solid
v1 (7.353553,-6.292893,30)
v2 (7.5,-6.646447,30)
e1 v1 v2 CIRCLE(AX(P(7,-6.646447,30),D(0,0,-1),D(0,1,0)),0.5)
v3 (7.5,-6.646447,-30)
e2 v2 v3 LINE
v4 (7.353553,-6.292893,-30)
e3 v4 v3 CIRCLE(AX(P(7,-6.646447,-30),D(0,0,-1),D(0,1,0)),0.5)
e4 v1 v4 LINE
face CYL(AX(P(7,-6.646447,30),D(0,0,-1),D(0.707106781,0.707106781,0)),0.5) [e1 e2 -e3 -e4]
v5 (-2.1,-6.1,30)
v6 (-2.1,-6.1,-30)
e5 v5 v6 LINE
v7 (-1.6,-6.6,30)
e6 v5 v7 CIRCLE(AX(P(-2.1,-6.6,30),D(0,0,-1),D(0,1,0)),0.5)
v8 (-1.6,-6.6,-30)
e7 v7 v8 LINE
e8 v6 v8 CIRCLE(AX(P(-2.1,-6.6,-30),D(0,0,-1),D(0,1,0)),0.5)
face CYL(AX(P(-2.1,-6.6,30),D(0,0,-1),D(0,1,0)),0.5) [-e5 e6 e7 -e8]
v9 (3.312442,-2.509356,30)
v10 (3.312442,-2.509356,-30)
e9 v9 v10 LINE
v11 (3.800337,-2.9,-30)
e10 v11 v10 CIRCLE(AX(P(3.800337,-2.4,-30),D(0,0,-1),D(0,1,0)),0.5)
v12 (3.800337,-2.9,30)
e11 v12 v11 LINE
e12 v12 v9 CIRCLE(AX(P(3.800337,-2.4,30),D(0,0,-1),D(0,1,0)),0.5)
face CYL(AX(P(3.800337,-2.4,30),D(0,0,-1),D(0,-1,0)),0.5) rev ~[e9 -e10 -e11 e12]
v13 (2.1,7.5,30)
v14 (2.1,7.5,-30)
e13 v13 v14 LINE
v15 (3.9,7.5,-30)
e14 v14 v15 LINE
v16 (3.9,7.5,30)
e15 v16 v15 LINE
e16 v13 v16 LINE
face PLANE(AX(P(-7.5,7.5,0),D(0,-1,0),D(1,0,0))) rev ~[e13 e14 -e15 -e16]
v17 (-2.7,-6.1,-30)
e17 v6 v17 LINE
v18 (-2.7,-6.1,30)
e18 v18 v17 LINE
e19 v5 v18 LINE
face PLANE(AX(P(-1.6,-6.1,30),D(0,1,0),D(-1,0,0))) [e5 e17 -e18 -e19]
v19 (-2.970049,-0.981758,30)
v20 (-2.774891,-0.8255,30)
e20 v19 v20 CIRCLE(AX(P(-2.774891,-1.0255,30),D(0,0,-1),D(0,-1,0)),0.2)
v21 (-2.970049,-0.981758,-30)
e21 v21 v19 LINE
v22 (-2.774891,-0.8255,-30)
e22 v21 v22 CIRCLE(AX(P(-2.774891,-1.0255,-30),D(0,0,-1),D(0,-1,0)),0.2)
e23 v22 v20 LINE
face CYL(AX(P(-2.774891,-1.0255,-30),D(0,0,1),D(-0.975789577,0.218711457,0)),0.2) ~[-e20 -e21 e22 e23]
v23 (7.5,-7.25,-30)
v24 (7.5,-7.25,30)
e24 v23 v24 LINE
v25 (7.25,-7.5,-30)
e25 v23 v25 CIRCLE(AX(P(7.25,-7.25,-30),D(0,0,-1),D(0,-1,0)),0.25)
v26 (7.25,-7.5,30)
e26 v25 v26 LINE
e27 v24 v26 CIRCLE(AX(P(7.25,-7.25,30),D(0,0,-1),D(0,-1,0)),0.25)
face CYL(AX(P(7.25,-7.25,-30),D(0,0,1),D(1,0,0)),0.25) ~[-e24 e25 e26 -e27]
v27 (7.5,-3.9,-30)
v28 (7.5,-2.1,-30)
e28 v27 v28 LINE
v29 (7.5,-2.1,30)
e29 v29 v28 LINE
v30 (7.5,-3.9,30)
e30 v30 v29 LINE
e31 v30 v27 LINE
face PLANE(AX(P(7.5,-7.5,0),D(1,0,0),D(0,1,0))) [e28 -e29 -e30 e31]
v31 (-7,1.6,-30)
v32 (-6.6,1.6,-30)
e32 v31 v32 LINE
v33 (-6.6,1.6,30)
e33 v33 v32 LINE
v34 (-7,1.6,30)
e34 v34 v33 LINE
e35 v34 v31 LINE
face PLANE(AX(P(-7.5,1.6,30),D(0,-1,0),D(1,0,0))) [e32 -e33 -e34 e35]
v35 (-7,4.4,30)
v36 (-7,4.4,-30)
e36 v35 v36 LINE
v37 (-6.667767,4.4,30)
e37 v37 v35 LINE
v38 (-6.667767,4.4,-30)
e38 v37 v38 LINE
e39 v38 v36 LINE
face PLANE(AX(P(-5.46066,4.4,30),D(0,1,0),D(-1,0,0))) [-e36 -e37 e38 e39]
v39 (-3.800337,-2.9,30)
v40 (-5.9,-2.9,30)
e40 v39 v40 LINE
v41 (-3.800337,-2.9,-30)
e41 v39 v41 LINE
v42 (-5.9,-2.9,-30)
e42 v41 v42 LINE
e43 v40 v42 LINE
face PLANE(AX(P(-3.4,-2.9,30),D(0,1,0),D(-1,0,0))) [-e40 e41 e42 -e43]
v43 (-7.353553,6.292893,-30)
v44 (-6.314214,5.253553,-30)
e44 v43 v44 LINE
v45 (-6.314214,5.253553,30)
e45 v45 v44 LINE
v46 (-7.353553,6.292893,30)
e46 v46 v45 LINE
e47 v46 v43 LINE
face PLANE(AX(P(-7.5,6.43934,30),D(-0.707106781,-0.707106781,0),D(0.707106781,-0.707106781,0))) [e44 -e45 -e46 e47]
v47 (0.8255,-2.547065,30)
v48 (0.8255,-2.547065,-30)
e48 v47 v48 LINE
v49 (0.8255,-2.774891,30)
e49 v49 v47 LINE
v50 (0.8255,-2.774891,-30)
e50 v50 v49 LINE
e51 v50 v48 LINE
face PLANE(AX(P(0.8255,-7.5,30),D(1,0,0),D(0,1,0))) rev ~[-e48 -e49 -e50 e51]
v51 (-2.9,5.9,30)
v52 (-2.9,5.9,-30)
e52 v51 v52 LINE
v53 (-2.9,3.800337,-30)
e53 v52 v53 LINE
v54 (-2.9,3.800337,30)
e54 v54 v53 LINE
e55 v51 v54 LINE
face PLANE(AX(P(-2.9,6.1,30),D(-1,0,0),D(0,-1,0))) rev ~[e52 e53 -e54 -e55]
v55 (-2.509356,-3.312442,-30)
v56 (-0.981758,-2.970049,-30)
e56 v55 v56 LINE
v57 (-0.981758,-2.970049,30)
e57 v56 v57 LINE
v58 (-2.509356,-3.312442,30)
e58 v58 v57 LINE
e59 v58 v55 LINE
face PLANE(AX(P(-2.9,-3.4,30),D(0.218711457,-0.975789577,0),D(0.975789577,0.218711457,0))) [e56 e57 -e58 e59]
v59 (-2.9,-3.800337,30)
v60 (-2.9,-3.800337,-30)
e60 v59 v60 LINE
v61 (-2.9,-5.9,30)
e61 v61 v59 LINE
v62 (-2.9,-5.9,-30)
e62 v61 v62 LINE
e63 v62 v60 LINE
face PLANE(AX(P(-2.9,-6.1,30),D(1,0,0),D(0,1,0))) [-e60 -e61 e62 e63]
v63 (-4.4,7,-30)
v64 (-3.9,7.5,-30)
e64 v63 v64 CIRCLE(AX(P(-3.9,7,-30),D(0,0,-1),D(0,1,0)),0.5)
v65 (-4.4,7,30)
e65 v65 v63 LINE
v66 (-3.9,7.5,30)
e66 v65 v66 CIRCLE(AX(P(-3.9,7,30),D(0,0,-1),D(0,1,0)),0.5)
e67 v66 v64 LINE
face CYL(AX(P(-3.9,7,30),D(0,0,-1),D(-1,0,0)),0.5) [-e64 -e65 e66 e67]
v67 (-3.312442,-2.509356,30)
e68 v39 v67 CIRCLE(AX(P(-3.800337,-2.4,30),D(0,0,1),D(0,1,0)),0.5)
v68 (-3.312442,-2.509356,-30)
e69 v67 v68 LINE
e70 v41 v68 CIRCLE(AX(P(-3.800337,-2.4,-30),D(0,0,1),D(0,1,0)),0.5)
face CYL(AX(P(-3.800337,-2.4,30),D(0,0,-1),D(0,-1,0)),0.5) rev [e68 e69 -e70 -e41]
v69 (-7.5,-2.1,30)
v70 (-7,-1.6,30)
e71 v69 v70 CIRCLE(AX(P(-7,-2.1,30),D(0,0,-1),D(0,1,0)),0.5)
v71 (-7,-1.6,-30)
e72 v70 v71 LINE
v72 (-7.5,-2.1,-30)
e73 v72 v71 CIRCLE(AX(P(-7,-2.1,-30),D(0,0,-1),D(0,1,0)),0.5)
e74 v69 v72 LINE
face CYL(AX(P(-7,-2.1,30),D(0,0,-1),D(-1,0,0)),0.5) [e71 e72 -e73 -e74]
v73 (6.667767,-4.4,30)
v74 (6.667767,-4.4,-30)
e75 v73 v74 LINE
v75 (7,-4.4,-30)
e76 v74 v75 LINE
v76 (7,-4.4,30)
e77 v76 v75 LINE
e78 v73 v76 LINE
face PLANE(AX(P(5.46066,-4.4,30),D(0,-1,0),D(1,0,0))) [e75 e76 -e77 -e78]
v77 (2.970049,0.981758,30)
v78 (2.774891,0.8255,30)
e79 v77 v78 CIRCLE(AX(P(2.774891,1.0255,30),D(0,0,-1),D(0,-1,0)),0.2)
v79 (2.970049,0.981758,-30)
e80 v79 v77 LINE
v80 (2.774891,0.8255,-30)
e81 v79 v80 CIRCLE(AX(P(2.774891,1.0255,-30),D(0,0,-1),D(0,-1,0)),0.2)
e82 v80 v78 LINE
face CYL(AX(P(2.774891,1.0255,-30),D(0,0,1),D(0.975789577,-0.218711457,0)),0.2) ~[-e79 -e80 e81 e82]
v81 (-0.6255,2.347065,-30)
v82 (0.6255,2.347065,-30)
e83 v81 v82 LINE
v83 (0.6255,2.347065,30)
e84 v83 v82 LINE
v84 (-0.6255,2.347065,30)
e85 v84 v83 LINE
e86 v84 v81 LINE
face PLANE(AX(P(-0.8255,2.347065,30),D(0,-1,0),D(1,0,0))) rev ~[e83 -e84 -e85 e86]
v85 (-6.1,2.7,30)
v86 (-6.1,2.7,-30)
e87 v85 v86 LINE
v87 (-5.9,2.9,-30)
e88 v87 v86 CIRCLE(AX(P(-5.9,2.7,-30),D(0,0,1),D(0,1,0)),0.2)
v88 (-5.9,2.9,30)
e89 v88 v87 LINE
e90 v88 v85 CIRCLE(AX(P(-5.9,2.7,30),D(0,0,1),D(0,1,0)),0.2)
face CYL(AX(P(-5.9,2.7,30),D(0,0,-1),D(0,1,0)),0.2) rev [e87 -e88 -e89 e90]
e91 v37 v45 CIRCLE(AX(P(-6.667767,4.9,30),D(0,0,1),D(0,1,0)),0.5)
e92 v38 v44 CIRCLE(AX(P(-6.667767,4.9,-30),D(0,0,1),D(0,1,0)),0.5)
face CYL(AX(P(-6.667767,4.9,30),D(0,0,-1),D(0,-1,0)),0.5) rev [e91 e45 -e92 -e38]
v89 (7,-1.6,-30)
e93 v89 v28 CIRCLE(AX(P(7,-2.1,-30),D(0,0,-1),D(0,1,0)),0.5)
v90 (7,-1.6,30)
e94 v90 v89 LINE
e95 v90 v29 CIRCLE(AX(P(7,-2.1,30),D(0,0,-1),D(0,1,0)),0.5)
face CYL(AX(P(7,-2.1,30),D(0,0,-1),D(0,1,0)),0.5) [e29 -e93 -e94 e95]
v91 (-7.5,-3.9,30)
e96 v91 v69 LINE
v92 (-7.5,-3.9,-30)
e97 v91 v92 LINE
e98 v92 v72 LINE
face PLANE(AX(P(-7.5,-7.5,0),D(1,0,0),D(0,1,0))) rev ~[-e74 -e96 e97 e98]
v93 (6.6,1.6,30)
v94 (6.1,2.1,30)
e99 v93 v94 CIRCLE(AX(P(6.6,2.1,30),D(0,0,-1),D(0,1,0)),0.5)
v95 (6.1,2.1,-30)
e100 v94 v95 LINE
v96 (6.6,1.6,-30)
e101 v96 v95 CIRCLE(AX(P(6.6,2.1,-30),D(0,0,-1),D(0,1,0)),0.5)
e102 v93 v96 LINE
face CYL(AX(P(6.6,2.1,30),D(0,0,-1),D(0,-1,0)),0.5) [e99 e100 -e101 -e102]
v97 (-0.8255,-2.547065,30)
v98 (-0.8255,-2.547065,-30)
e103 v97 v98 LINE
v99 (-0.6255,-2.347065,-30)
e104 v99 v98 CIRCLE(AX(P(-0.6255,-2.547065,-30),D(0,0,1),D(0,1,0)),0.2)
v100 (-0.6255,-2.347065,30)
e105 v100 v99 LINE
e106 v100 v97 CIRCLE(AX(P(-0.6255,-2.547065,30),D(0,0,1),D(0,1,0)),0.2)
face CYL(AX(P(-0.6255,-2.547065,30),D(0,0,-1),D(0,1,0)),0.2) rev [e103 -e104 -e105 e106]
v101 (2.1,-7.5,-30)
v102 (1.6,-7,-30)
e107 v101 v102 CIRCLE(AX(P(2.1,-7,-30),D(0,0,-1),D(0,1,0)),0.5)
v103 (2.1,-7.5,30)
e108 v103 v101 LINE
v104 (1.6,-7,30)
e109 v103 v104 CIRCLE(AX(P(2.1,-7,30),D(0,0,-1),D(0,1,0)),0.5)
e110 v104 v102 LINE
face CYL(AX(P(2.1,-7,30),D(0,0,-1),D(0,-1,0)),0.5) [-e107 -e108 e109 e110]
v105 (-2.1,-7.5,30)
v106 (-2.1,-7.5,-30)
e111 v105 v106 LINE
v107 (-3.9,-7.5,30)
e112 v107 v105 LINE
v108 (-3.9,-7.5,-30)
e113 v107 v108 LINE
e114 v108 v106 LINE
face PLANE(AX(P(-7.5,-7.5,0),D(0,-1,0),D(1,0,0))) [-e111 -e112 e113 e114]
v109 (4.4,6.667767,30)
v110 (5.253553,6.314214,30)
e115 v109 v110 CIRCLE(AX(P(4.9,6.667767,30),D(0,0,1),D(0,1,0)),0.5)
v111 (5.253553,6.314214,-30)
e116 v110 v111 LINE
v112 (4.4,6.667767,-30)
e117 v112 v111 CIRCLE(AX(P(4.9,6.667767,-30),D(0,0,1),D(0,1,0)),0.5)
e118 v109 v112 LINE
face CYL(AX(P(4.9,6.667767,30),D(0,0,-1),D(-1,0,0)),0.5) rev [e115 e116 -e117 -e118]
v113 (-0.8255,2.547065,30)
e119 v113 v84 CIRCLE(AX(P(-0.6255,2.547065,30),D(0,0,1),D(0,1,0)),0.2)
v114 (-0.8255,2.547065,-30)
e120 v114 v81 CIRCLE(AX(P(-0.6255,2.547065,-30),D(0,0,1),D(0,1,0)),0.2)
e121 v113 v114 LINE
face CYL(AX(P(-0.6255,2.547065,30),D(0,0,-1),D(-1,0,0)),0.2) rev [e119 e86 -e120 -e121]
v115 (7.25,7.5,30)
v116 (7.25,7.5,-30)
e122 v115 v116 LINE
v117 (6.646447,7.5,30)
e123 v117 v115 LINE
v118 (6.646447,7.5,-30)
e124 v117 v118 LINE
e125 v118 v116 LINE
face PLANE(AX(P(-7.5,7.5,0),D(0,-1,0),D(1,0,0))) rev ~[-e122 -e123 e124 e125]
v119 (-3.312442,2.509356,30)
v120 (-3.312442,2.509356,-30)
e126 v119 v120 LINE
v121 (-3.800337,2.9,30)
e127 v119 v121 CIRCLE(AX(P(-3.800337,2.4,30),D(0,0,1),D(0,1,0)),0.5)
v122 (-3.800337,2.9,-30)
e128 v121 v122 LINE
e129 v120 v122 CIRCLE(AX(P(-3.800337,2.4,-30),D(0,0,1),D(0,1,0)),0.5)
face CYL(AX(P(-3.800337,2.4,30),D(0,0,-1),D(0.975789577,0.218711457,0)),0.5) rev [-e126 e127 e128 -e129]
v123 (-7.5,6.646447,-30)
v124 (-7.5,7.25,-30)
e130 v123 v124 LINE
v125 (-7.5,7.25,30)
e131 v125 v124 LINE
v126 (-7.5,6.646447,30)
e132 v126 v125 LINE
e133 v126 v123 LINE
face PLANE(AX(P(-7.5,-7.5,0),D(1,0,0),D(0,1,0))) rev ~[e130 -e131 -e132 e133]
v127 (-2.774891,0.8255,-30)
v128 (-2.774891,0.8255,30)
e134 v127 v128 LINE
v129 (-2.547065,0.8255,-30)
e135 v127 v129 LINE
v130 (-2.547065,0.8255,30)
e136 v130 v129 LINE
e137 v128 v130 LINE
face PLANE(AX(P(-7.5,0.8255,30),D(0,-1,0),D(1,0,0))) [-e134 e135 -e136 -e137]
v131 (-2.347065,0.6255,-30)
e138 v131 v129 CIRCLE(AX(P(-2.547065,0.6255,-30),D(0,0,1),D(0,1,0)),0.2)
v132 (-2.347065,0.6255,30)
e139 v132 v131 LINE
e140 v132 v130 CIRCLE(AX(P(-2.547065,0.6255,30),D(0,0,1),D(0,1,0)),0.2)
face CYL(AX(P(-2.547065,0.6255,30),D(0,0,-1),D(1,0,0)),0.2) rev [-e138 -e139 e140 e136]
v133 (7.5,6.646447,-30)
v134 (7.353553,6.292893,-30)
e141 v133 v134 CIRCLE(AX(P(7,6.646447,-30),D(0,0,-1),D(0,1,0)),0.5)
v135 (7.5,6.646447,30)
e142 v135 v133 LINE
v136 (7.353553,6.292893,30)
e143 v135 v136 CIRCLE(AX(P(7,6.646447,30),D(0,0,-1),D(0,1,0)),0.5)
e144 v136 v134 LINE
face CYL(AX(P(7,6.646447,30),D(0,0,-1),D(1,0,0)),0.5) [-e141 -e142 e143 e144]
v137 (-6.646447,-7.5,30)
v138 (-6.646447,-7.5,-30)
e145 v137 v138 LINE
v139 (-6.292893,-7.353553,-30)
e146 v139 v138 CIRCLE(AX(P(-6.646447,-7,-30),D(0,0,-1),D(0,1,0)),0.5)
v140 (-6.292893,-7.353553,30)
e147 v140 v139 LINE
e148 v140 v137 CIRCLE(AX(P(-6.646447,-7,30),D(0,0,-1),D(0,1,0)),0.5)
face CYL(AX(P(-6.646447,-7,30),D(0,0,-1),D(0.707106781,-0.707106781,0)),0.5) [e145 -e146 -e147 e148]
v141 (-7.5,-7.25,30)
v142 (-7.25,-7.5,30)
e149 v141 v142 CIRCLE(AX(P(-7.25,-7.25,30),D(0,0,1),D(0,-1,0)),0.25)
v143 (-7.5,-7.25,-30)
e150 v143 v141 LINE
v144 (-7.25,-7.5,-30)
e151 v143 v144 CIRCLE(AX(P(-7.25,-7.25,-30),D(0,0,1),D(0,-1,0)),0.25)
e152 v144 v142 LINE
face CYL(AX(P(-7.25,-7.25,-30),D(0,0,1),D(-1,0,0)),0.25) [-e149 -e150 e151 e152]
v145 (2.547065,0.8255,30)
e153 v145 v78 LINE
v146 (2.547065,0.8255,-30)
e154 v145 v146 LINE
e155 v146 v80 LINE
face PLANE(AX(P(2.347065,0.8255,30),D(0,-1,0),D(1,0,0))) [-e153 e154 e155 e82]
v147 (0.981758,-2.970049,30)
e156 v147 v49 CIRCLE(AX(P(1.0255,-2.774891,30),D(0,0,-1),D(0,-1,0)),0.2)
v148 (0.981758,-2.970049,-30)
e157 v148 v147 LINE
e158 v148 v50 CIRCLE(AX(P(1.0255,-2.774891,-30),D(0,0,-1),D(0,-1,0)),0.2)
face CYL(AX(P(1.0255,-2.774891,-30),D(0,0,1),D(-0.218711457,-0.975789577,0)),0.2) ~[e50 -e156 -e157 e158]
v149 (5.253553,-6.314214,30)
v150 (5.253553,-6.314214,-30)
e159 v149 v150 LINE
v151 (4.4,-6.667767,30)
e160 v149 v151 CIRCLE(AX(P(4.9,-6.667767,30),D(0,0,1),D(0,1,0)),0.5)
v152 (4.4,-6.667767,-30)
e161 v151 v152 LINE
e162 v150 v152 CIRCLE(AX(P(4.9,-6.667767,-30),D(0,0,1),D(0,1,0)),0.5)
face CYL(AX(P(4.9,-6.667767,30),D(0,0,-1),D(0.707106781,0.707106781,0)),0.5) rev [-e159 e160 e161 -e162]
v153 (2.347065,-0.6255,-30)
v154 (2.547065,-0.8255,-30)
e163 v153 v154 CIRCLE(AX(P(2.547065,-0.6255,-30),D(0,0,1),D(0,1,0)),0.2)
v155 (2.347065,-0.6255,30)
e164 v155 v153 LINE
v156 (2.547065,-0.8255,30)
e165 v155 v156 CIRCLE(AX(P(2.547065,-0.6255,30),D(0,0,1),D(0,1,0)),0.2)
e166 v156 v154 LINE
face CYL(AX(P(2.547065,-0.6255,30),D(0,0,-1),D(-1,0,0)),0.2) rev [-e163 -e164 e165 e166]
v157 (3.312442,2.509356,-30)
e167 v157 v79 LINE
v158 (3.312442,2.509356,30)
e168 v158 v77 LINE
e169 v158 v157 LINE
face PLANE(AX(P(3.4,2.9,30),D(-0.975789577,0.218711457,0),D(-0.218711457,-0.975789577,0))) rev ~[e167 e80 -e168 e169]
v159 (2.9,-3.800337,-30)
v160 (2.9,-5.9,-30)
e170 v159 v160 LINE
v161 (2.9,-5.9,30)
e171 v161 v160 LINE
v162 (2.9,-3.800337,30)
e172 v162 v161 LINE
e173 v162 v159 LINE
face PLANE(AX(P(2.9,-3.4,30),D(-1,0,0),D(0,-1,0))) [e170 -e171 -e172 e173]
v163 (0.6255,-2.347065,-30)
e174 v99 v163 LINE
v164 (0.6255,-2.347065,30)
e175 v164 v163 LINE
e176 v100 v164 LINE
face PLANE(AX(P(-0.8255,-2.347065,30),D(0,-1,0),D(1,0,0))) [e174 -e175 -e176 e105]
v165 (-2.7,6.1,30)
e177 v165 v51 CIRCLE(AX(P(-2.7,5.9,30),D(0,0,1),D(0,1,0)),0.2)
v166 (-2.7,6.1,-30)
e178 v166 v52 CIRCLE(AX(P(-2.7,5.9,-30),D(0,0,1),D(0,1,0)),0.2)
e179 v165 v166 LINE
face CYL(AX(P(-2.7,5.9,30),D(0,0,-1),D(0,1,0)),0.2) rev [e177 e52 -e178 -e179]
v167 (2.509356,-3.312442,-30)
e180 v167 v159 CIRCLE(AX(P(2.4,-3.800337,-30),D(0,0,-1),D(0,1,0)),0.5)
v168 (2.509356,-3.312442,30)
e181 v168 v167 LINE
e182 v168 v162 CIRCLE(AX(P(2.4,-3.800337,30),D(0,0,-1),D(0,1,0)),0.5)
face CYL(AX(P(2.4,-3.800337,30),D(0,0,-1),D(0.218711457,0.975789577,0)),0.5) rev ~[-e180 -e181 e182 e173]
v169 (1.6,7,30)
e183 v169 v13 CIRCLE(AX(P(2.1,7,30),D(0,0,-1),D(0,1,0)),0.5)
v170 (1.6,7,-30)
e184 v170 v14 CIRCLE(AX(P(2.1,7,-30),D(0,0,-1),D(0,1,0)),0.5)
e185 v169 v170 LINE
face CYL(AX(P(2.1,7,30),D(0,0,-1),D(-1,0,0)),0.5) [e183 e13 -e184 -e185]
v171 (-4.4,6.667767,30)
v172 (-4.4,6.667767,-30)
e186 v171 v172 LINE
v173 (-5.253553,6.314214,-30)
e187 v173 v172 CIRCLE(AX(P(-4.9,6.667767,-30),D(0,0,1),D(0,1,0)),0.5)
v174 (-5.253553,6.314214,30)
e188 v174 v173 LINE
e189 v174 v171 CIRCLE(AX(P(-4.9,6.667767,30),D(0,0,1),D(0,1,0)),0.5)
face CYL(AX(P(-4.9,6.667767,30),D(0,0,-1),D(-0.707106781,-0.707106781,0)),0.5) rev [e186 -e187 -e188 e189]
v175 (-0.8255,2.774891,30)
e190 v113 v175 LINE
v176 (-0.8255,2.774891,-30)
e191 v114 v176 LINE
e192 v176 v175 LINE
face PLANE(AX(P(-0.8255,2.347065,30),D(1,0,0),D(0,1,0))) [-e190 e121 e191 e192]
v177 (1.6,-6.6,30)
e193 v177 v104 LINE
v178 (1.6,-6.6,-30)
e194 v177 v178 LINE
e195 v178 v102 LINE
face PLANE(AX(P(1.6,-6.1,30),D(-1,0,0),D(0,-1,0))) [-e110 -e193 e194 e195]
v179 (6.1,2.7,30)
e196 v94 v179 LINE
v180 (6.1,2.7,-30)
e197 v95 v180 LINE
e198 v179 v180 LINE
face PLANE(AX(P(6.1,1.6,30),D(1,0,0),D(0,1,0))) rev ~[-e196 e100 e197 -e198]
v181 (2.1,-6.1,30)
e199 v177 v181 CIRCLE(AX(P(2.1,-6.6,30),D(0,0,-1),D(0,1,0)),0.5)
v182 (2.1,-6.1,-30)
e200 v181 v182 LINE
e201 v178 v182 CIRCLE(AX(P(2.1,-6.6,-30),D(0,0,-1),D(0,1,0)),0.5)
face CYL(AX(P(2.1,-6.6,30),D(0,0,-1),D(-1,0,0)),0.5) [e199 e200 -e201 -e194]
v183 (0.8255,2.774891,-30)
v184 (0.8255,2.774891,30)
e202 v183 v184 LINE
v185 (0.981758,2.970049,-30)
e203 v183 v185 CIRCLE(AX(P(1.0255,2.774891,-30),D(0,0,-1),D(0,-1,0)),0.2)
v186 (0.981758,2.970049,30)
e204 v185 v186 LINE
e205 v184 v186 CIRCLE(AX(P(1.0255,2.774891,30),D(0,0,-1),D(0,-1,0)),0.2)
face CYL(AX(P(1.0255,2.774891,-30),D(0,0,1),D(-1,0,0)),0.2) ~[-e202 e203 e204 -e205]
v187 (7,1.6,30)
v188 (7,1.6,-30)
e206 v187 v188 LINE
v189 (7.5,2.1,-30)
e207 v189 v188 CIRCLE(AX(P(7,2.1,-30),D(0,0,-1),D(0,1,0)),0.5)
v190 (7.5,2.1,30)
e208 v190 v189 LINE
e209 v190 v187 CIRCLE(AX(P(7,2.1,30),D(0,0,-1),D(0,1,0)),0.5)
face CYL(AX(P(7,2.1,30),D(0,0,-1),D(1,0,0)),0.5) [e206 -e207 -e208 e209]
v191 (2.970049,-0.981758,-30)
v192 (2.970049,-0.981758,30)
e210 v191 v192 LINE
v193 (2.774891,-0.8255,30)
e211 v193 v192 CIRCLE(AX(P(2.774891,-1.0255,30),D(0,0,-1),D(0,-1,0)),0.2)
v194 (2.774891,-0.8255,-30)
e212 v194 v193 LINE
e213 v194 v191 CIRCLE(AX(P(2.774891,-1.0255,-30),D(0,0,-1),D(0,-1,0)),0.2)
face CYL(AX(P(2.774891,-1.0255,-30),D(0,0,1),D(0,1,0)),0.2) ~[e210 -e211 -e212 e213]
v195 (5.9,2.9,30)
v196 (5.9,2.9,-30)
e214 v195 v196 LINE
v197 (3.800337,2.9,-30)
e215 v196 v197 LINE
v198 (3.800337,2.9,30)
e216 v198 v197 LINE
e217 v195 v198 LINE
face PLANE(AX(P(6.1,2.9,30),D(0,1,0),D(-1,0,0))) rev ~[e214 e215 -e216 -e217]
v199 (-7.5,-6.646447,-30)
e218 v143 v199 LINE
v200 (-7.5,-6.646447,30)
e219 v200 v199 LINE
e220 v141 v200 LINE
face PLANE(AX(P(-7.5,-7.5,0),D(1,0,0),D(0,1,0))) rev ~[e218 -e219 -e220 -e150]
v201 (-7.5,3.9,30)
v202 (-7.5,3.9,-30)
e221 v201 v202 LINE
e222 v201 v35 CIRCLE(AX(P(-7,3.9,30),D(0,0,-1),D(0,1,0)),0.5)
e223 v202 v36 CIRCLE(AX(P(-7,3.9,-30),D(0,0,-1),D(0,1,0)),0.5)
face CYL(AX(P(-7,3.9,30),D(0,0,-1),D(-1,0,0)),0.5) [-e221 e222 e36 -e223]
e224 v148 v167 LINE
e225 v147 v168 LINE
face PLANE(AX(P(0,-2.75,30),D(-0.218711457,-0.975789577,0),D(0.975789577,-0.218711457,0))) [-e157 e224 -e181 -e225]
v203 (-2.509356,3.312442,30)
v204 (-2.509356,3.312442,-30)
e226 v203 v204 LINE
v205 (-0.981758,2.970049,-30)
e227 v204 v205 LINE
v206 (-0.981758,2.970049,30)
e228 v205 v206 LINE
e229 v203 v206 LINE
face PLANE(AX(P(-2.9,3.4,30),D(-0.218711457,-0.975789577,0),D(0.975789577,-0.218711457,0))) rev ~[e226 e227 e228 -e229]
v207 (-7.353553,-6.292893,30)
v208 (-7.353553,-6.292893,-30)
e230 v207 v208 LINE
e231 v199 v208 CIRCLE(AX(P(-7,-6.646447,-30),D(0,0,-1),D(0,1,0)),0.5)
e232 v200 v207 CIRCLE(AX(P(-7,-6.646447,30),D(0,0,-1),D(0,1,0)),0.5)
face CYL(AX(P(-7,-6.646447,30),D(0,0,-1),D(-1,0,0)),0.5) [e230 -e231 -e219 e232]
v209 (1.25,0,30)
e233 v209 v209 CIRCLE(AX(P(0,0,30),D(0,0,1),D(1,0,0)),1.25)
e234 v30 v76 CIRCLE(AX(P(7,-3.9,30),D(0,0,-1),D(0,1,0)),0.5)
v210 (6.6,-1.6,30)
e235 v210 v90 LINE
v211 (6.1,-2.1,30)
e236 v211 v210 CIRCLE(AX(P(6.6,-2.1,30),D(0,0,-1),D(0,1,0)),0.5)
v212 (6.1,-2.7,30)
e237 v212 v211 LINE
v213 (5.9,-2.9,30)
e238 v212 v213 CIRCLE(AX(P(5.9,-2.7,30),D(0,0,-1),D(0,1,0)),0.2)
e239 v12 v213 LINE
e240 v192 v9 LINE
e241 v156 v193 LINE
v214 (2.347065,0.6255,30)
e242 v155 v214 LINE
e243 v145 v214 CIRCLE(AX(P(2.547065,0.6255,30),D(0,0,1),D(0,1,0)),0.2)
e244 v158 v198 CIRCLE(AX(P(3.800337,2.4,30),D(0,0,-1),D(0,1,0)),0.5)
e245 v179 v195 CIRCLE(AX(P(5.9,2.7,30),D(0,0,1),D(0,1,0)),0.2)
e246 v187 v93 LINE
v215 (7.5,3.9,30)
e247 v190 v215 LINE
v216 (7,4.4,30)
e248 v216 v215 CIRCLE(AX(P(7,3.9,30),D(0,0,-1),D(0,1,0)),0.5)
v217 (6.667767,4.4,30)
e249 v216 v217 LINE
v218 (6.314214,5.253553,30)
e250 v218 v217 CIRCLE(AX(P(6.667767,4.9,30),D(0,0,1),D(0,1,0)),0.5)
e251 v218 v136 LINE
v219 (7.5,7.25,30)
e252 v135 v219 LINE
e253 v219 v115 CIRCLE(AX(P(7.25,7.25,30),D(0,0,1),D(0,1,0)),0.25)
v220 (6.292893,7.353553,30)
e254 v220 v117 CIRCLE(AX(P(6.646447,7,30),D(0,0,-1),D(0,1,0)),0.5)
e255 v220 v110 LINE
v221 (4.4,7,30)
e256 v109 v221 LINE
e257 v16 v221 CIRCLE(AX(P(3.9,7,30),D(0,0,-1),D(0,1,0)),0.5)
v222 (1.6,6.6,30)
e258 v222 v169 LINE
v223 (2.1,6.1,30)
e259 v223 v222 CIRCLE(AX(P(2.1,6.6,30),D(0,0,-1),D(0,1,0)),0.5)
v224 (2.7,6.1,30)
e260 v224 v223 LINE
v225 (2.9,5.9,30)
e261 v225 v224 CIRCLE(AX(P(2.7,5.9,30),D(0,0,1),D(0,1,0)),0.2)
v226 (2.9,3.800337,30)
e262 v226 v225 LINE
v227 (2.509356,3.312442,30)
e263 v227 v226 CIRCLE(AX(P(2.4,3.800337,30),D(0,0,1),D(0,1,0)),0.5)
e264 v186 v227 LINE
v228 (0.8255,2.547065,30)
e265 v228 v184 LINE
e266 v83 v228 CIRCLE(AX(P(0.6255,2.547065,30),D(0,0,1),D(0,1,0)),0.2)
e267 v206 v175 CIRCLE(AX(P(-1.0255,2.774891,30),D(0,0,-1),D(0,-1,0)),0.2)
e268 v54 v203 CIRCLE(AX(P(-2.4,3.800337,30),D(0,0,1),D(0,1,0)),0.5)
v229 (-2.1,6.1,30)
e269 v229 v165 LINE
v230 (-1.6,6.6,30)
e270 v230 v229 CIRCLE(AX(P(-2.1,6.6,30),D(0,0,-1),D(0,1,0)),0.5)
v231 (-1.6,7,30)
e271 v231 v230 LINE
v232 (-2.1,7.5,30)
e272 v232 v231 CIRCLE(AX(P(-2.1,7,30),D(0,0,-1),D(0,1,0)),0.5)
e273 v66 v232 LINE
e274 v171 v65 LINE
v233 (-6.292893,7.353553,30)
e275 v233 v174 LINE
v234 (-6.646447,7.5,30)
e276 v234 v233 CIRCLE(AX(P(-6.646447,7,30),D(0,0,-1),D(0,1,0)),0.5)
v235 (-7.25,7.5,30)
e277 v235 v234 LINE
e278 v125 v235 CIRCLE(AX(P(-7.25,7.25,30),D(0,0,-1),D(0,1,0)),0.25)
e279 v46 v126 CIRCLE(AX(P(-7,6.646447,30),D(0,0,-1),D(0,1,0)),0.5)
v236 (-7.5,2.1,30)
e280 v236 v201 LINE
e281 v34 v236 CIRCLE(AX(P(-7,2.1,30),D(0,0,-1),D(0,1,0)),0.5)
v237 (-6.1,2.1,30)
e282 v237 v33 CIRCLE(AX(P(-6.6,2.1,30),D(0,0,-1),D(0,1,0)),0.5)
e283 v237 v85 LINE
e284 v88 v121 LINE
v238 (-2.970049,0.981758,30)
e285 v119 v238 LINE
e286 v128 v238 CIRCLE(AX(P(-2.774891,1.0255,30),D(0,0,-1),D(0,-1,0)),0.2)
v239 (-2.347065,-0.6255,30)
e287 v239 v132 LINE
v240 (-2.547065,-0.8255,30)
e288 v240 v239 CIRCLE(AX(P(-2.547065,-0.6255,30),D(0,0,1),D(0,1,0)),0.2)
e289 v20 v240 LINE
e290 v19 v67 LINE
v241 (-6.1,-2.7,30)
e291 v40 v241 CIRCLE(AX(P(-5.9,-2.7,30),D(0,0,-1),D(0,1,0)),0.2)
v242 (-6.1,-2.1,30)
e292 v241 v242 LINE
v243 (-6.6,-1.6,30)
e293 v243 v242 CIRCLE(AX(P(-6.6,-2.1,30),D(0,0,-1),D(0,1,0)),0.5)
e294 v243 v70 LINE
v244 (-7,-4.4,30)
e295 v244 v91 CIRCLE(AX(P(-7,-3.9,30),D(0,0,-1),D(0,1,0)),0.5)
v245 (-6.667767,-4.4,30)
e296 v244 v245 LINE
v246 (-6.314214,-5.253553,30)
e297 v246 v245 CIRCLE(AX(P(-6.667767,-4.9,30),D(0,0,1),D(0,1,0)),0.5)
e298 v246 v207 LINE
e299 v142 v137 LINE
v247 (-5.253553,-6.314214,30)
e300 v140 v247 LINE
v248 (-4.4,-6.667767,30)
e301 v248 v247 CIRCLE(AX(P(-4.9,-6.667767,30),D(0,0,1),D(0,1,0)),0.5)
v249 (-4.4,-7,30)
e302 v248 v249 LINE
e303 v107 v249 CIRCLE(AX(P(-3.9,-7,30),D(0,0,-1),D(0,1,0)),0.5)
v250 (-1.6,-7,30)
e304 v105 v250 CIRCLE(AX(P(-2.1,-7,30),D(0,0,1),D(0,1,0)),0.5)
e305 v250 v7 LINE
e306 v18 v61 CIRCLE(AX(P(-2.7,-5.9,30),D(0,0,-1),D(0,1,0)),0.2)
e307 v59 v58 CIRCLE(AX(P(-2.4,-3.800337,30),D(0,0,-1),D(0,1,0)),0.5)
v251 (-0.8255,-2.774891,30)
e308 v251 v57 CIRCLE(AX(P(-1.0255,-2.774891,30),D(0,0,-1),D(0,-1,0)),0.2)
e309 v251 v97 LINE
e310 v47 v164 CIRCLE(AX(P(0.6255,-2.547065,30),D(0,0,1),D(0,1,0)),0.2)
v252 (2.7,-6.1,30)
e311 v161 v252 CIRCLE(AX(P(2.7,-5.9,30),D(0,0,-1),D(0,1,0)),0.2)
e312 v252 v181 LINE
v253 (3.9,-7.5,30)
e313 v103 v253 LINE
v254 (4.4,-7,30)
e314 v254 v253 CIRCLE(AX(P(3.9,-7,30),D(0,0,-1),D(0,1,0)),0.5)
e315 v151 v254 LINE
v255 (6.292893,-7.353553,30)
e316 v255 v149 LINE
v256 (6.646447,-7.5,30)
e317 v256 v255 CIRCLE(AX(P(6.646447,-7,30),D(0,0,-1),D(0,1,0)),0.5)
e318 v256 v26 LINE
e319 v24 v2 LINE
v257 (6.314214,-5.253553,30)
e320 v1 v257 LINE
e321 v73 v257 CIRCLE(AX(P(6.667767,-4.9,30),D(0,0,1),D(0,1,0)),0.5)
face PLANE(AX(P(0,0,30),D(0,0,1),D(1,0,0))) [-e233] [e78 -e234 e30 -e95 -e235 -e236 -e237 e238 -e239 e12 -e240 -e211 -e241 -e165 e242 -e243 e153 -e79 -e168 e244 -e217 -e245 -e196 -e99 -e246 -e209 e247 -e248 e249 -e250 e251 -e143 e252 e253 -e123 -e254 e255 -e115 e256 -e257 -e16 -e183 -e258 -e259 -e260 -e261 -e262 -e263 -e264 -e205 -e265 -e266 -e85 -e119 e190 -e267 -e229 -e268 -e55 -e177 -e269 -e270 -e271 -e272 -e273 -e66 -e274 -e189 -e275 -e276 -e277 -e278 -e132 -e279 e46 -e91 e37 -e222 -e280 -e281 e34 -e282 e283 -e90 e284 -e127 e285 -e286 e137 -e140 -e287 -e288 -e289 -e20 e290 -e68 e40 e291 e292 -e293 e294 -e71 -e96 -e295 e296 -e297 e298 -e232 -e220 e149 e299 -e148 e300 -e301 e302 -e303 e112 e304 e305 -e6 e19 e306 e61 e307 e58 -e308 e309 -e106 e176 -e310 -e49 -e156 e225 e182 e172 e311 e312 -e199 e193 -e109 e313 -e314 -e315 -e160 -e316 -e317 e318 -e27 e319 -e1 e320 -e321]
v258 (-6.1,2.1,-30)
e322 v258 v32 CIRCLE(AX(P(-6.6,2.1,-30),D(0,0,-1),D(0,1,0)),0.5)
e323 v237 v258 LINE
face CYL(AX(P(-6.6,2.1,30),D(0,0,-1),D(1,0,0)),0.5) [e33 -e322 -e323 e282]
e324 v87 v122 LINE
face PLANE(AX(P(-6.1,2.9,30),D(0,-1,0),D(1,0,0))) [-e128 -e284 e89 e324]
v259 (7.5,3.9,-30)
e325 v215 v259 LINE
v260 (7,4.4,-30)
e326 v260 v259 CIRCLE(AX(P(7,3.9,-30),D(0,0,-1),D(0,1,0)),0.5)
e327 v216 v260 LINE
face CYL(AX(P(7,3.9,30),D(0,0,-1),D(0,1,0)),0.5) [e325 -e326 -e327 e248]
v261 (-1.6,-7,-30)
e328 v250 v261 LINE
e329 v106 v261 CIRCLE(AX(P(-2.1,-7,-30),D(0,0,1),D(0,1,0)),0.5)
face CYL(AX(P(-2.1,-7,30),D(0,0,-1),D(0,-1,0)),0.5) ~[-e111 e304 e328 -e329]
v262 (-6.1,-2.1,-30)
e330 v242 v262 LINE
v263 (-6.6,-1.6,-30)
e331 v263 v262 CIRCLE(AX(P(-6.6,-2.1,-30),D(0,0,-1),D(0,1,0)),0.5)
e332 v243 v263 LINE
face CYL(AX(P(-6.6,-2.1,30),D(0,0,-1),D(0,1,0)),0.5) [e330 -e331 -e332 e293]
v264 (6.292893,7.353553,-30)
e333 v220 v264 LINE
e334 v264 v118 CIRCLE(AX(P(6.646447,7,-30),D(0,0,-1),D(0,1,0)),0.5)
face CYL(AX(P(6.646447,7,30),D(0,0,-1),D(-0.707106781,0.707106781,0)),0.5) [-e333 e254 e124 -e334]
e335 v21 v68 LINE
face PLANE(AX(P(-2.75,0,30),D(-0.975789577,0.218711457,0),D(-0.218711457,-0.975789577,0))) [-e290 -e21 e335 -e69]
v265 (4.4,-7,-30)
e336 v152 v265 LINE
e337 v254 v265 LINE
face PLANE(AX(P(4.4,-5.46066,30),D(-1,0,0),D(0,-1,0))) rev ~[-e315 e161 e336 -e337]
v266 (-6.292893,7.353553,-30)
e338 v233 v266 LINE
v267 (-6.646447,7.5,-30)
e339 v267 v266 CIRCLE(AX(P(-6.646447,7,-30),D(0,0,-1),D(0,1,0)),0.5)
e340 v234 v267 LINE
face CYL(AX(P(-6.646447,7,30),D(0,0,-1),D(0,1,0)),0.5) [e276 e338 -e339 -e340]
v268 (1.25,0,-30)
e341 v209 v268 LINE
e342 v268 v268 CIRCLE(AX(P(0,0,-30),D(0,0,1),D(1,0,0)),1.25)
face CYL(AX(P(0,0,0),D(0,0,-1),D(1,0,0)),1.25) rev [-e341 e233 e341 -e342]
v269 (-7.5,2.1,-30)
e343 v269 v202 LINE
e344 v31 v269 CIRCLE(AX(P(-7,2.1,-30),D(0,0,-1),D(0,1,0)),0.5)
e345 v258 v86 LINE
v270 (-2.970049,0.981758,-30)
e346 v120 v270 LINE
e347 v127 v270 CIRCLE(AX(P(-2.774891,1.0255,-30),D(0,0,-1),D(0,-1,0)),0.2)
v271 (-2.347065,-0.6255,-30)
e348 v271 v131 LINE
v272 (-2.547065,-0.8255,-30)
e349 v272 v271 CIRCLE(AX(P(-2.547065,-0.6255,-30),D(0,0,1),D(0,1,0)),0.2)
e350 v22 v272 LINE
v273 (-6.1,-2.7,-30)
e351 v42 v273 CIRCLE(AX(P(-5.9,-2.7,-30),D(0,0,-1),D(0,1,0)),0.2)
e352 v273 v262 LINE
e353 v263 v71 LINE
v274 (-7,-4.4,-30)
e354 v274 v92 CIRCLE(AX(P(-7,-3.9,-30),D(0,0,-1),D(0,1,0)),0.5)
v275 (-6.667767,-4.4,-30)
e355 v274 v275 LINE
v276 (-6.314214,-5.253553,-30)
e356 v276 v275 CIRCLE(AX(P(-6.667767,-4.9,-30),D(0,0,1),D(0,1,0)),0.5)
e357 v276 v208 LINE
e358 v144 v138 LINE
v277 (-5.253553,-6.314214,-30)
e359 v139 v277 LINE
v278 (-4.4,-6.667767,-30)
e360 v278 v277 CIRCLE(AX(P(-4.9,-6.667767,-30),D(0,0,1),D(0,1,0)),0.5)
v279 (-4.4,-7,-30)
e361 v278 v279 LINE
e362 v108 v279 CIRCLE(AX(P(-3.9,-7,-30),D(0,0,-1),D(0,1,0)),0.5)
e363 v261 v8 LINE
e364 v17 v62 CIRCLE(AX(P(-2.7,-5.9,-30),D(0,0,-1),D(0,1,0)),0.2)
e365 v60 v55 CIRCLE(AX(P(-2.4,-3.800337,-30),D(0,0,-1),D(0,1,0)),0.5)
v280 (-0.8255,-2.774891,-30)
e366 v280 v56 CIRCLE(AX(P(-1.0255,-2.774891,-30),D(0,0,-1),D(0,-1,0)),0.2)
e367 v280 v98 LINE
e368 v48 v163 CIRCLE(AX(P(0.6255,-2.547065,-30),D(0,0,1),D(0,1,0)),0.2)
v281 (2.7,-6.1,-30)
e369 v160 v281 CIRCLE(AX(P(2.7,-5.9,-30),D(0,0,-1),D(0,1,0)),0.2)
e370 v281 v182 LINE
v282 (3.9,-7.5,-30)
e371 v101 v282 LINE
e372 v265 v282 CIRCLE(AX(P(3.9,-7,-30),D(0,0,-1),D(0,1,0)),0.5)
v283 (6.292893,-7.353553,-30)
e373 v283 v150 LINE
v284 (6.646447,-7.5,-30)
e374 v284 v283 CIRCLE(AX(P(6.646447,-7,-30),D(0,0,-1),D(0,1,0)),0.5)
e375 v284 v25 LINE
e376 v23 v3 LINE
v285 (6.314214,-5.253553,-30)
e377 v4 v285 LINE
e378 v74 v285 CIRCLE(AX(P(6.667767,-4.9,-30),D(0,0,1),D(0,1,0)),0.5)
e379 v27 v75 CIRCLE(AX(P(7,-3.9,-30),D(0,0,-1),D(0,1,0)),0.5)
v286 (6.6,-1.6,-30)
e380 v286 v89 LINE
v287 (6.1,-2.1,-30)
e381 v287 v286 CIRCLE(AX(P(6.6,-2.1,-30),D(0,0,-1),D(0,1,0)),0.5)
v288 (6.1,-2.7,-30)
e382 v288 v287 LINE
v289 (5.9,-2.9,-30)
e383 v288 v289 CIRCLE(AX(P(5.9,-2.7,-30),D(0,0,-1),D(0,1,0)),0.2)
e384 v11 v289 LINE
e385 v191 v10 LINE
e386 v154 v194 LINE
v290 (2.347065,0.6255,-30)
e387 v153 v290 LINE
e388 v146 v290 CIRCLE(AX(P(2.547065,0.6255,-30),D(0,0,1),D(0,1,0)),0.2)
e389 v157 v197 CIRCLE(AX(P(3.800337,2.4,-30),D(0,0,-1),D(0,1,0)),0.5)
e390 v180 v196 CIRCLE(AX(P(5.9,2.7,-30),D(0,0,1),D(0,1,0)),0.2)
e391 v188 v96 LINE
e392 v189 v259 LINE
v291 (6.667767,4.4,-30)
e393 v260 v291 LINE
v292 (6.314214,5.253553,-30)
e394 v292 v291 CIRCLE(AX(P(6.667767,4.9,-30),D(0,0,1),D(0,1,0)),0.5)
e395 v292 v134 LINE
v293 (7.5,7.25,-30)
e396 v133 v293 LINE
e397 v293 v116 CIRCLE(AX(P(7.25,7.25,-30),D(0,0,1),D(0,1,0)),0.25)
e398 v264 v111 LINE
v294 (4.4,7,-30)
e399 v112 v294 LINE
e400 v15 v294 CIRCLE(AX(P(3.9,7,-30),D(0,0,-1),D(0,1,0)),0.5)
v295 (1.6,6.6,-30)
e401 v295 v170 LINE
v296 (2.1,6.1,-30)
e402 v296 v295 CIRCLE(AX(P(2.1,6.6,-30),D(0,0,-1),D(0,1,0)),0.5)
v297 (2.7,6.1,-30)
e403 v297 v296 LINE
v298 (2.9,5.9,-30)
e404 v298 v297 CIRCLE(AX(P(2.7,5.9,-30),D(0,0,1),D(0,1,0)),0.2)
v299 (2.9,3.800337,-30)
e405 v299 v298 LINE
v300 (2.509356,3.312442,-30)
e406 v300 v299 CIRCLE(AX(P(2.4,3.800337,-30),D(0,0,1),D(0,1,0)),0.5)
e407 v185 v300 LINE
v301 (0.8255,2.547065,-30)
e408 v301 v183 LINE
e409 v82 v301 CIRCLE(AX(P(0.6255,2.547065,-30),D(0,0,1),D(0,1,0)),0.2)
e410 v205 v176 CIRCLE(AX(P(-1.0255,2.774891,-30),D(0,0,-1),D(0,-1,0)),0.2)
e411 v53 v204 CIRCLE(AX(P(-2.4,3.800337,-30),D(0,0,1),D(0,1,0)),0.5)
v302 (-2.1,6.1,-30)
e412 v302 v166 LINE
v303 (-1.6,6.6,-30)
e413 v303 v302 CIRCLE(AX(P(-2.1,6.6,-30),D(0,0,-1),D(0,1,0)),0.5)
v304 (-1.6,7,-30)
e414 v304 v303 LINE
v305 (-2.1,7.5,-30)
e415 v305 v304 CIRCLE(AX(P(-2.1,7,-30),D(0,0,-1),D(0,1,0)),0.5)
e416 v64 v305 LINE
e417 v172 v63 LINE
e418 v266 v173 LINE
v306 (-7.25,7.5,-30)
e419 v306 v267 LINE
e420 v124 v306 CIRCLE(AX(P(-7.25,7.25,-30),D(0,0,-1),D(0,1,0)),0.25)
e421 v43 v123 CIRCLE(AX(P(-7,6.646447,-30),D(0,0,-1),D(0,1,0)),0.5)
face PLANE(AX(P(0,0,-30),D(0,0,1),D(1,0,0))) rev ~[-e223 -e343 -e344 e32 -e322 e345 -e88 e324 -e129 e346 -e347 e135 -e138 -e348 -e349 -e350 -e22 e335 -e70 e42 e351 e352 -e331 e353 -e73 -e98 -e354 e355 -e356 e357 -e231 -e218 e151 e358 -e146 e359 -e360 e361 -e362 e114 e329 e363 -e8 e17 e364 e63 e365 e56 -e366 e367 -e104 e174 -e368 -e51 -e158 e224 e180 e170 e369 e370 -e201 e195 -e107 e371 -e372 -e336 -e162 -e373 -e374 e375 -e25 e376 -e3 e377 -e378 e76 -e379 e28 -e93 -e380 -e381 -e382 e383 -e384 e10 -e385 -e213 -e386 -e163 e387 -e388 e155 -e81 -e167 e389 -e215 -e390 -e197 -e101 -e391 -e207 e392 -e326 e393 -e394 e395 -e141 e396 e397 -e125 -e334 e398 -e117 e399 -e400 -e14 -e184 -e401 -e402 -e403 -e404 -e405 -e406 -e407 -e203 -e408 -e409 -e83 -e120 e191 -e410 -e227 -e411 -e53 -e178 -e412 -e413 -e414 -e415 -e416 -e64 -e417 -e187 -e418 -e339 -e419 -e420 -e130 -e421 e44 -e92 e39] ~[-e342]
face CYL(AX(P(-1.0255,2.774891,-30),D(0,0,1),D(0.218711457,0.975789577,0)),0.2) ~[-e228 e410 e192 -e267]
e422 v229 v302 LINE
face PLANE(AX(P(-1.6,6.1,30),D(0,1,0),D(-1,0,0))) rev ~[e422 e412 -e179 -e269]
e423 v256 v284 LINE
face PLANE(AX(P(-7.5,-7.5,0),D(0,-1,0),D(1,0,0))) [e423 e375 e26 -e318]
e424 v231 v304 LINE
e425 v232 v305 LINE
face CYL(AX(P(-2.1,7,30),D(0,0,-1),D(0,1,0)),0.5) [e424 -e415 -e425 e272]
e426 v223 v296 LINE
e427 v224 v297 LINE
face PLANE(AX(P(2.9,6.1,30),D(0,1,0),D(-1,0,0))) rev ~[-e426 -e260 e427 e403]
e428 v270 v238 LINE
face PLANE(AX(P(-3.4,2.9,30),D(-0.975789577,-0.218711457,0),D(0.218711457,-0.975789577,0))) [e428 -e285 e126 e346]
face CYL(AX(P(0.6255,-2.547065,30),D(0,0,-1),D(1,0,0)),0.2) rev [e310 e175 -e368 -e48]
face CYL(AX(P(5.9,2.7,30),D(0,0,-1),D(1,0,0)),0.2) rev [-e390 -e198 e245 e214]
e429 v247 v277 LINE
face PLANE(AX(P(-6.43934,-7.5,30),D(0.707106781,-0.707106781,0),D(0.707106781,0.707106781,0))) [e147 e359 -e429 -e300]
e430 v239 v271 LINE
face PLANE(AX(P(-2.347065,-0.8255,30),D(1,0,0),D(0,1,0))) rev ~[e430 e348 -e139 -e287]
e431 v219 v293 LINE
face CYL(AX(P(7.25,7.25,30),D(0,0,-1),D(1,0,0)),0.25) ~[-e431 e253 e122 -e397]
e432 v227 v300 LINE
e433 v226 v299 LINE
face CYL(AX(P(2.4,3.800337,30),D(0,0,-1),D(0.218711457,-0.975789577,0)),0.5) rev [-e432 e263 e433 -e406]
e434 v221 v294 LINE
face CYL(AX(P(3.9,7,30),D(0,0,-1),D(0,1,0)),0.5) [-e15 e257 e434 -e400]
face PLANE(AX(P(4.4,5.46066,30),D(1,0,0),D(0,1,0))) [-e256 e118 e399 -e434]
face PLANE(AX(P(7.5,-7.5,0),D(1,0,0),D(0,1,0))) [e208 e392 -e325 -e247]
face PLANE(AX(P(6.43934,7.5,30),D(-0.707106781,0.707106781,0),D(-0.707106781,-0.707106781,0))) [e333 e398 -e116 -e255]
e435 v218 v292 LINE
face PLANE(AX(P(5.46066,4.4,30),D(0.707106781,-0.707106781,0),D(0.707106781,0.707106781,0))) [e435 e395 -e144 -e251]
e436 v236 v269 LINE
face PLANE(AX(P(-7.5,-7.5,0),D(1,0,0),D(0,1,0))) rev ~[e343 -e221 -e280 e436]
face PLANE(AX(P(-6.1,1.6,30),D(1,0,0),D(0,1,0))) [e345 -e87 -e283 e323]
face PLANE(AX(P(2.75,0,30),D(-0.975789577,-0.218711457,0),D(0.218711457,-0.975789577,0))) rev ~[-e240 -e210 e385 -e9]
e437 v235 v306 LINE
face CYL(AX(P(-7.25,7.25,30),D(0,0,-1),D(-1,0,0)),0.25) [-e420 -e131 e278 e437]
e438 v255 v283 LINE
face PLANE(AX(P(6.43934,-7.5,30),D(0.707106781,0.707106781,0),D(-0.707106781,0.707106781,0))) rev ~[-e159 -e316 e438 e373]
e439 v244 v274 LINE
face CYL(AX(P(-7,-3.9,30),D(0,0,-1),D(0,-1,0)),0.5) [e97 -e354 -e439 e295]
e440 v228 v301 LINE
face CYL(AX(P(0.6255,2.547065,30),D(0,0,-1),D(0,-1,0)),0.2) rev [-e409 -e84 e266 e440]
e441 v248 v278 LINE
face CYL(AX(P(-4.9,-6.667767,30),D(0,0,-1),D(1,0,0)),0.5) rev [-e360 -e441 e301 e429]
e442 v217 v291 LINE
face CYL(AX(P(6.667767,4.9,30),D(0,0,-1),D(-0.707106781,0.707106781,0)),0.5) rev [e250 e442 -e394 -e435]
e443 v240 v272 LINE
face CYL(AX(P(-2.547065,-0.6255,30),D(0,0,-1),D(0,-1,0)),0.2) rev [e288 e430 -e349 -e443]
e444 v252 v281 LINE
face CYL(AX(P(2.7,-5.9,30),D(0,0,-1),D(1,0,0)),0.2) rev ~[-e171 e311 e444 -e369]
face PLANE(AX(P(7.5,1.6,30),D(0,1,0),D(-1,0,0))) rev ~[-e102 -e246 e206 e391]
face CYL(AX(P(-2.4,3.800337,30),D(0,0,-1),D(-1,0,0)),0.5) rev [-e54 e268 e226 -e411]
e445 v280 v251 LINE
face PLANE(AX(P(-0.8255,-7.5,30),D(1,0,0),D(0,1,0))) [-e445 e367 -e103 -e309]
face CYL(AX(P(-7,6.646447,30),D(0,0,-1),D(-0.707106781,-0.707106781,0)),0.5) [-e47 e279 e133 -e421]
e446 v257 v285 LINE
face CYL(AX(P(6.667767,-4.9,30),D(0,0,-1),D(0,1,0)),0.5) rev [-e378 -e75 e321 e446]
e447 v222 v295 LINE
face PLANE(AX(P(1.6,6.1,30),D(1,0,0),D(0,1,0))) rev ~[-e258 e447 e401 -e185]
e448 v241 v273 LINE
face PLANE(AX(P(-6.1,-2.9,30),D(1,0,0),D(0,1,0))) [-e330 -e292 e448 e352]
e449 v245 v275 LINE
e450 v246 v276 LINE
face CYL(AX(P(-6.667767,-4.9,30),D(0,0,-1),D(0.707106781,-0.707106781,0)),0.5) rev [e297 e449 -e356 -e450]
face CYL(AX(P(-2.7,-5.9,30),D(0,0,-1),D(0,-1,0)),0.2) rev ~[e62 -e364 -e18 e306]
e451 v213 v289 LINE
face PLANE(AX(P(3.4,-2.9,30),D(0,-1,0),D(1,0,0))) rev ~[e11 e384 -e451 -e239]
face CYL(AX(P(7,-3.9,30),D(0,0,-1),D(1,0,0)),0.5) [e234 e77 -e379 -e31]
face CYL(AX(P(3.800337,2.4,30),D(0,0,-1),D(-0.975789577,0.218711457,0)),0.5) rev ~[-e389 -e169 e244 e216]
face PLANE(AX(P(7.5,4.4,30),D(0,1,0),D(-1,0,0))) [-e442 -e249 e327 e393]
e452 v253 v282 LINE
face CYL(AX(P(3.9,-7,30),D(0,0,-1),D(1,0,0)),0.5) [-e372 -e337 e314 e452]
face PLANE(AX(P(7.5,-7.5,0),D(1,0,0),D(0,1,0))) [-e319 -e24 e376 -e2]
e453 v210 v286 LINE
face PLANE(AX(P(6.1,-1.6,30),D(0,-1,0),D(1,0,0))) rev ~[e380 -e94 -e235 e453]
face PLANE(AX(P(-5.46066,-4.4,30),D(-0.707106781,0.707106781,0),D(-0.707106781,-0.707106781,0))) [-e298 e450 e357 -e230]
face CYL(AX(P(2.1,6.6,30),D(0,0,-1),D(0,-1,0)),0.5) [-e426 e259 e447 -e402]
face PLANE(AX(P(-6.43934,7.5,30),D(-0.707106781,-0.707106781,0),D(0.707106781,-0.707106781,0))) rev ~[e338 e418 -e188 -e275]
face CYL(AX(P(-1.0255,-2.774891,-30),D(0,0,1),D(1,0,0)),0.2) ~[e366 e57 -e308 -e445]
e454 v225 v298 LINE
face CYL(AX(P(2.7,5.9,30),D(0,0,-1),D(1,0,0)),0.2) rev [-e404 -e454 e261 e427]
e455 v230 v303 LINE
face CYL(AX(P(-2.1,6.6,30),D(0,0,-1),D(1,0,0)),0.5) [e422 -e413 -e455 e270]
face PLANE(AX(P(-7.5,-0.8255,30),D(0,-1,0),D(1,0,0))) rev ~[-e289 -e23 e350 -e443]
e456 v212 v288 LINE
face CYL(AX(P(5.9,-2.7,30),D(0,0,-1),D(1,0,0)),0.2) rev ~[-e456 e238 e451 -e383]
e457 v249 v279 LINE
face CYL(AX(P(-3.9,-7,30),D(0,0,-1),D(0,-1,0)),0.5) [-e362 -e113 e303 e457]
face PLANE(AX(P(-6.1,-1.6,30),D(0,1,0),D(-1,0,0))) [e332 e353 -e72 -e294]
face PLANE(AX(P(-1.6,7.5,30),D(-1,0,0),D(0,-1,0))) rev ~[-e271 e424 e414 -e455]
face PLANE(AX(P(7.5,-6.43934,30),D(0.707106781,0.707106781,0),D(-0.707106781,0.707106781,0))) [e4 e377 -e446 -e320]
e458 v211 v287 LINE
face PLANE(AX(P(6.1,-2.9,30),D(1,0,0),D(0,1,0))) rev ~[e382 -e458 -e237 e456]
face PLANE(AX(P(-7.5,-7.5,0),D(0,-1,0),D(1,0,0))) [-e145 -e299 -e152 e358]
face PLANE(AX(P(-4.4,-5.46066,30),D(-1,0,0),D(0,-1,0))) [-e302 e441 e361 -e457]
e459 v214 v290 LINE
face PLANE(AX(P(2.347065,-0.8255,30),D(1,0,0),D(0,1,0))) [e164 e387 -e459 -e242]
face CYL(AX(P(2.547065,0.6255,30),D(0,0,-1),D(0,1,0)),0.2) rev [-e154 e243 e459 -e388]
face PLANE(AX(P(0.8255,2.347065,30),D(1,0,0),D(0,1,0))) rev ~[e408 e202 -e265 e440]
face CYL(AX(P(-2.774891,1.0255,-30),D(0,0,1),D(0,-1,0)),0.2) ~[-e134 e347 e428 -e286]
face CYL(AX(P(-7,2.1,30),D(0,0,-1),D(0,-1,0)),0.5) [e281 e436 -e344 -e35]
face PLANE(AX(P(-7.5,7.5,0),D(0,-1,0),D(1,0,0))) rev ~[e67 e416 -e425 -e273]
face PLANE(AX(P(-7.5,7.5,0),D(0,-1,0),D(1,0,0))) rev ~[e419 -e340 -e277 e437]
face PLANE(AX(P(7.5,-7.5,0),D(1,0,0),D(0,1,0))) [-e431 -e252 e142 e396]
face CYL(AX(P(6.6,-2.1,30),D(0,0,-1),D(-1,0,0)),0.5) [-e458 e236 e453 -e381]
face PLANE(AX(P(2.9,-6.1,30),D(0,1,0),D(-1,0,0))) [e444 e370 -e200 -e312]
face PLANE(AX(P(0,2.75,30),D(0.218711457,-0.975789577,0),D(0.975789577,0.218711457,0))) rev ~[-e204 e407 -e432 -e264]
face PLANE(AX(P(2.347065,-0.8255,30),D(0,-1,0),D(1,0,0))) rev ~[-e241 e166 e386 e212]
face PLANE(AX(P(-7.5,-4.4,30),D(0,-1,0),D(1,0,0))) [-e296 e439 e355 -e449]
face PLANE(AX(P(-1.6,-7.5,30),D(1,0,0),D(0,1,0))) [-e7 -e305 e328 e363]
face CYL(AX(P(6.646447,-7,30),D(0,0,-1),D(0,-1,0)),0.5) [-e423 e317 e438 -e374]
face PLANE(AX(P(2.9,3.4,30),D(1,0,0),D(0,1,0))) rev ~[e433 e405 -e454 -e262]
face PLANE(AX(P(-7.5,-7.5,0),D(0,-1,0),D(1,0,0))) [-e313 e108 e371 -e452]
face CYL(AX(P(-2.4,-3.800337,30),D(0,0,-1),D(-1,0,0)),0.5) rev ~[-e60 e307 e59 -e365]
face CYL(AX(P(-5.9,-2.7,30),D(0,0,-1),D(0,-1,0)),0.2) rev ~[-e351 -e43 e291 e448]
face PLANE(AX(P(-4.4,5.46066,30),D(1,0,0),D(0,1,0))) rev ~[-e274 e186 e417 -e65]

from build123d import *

# Parameters (mm, degrees)
SKETCH1_W           = 15
SKETCH1_H           = 15
SKETCH1_R           = 1.25
BOSS_EXTRUDE1_DEPTH = 30
FILLET1_R           = 0.25
CUT_EXTRUDE1_DEPTH  = 61
CUT_EXTRUDE3_DEPTH  = 61
FILLET3_R           = 0.5
FILLET4_R           = 0.5
FILLET5_R           = 3
FILLET6_R           = 0.2
CUT_EXTRUDE4_DEPTH  = 61
FILLET8_R           = 0.5
SKETCH6_W           = 5.1529354
SKETCH6_H           = 1.651
SKETCH6_W_2         = 1.651
SKETCH6_H_2         = 5.1529354
CUT_EXTRUDE5_DEPTH  = 61
FILLET10_R          = 0.2


with BuildPart() as part:
    # Sketch1 → Boss-Extrude1 (new body, symmetric)
    with BuildSketch(Plane.XY):
        Rectangle(SKETCH1_W, SKETCH1_H)
        Circle(SKETCH1_R, mode=Mode.SUBTRACT)
    extrude(amount=BOSS_EXTRUDE1_DEPTH, both=True)

    # Fillet1
    fillet1_edges = [part.edges().sort_by_distance(p)[0] for p in [
        (7.5, -7.5, 0),
        (-7.5, -7.5, 0),
        (-7.5, 7.5, 0),
        (7.5, 7.5, 0),
    ]]
    fillet(fillet1_edges, radius=FILLET1_R)

    # Sketch2 → Cut-Extrude1 (cut, through all)
    with BuildSketch(Plane.XY.offset(30)):
        Polygon((-7.5, 1.6), (-6.1, 1.6), (-6.1, 2.9), (-3.4, 2.9), (-3.4, -2.9), (-6.1, -2.9), (-6.1, -1.6), (-7.5, -1.6), align=None)
        Polygon((2.9, 6.1), (1.6, 6.1), (1.6, 7.5), (-1.6, 7.5), (-1.6, 6.1), (-2.9, 6.1), (-2.9, 3.4), (2.9, 3.4), align=None)
        Polygon((-1.6, -7.5), (-1.6, -6.1), (-2.9, -6.1), (-2.9, -3.4), (2.9, -3.4), (2.9, -6.1), (1.6, -6.1), (1.6, -7.5), align=None)
        Polygon((6.1, -2.9), (6.1, -1.6), (7.5, -1.6), (7.5, 1.6), (6.1, 1.6), (6.1, 2.9), (3.4, 2.9), (3.4, -2.9), align=None)
    extrude(amount=-CUT_EXTRUDE1_DEPTH, mode=Mode.SUBTRACT)

    # Sketch4 → Cut-Extrude3 (cut, through all)
    with BuildSketch(Plane.XY.offset(30)):
        Polygon((-3.4, 2.9), (-2.75, 0), (-3.4, -2.9), align=None)
        Polygon((-2.9, 3.4), (0, 2.75), (2.9, 3.4), align=None)
        Polygon((3.4, 2.9), (2.75, 0), (3.4, -2.9), align=None)
        Polygon((-2.9, -3.4), (0, -2.75), (2.9, -3.4), align=None)
    extrude(amount=-CUT_EXTRUDE3_DEPTH, mode=Mode.SUBTRACT)

    # Fillet3
    fillet3_edges = [part.edges().sort_by_distance(p)[0] for p in [
        (1.6, -7.5, 0),
        (-1.6, -7.5, 0),
        (-1.6, -6.1, 0),
        (1.6, -6.1, 0),
        (6.1, 1.6, 0),
        (7.5, 1.6, 0),
        (7.5, -1.6, 0),
        (6.1, -1.6, 0),
        (-7.5, -1.6, 0),
        (-7.5, 1.6, 0),
        (-6.1, 1.6, 0),
        (-6.1, -1.6, 0),
        (-1.6, 6.1, 0),
        (-1.6, 7.5, 0),
        (1.6, 7.5, 0),
        (1.6, 6.1, 0),
    ]]
    fillet(fillet3_edges, radius=FILLET3_R)

    # Fillet4
    fillet4_edges = [part.edges().sort_by_distance(p)[0] for p in [
        (-2.9, -3.4, 0),
        (2.9, -3.4, 0),
        (3.4, -2.9, 0),
        (3.4, 2.9, 0),
        (-3.4, 2.9, 0),
        (-3.4, -2.9, 0),
        (2.9, 3.4, 0),
        (-2.9, 3.4, 0),
    ]]
    fillet(fillet4_edges, radius=FILLET4_R)

    # Fillet5
    fillet5_edges = [part.edges().sort_by_distance(p)[0] for p in [
        (-2.75, 0, 0),
        (0, 2.75, 0),
        (2.75, 0, 0),
        (0, -2.75, 0),
    ]]
    fillet(fillet5_edges, radius=FILLET5_R)

    # Fillet6
    fillet6_edges = [part.edges().sort_by_distance(p)[0] for p in [
        (-2.9, -6.1, 0),
        (2.9, -6.1, 0),
        (6.1, -2.9, 0),
        (6.1, 2.9, 0),
        (-6.1, 2.9, 0),
        (-6.1, -2.9, 0),
        (2.9, 6.1, 0),
        (-2.9, 6.1, 0),
    ]]
    fillet(fillet6_edges, radius=FILLET6_R)

    # Sketch5 → Cut-Extrude4 (cut, through all)
    with BuildSketch(Plane.XY.offset(30)):
        Polygon((-7.5, 6.439339828), (-5.460660172, 4.4), (-7.5, 4.4), align=None)
        Polygon((-6.439339828, 7.5), (-4.4, 5.460660172), (-4.4, 7.5), align=None)
        Polygon((4.4, 7.5), (6.439339828, 7.5), (4.4, 5.460660172), align=None)
        Polygon((7.5, 6.439339828), (7.5, 4.4), (5.460660172, 4.4), align=None)
        Polygon((7.5, -6.439339828), (5.460660172, -4.4), (7.5, -4.4), align=None)
        Polygon((6.439339828, -7.5), (4.4, -5.460660172), (4.4, -7.5), align=None)
        Polygon((-4.4, -7.5), (-6.439339828, -7.5), (-4.4, -5.460660172), align=None)
        Polygon((-7.5, -6.439339828), (-7.5, -4.4), (-5.460660172, -4.4), align=None)
    extrude(amount=-CUT_EXTRUDE4_DEPTH, mode=Mode.SUBTRACT)

    # Fillet8
    fillet8_edges = [part.edges().sort_by_distance(p)[0] for p in [
        (-7.5, 4.4, 0),
        (-7.5, 6.439339828, 0),
        (-5.460660172, 4.4, 0),
        (7.5, -4.4, 0),
        (7.5, -6.439339828, 0),
        (5.460660172, -4.4, 0),
        (5.460660172, 4.4, 0),
        (7.5, 6.439339828, 0),
        (7.5, 4.4, 0),
        (-4.4, 7.5, 0),
        (-4.4, 5.460660172, 0),
        (-6.439339828, 7.5, 0),
        (-5.460660172, -4.4, 0),
        (-7.5, -6.439339828, 0),
        (-7.5, -4.4, 0),
        (4.4, 5.460660172, 0),
        (4.4, 7.5, 0),
        (6.439339828, 7.5, 0),
        (6.439339828, -7.5, 0),
        (4.4, -7.5, 0),
        (4.4, -5.460660172, 0),
        (-6.439339828, -7.5, 0),
        (-4.4, -5.460660172, 0),
        (-4.4, -7.5, 0),
    ]]
    fillet(fillet8_edges, radius=FILLET8_R)

    # Sketch6 → Cut-Extrude5 (cut, through all)
    with BuildSketch(Plane.XY.offset(30)):
        with Locations((4.9235323, 0)):
            Rectangle(SKETCH6_W, SKETCH6_H)
        with Locations((0, -4.9235323)):
            Rectangle(SKETCH6_W_2, SKETCH6_H_2)
        with Locations((-4.9235323, 0)):
            Rectangle(SKETCH6_W, SKETCH6_H)
        with Locations((0, 4.9235323)):
            Rectangle(SKETCH6_W_2, SKETCH6_H_2)
    extrude(amount=-CUT_EXTRUDE5_DEPTH, mode=Mode.SUBTRACT)

    # Fillet10
    fillet10_edges = [part.edges().sort_by_distance(p)[0] for p in [
        (0.8255, -2.935025862, 0),
        (-0.8255, -2.935025862, 0),
        (0.8255, -2.3470646, 0),
        (-0.8255, -2.3470646, 0),
        (2.935025862, 0.8255, 0),
        (2.935025862, -0.8255, 0),
        (2.3470646, 0.8255, 0),
        (2.3470646, -0.8255, 0),
        (-2.935025862, -0.8255, 0),
        (-2.935025862, 0.8255, 0),
        (-2.3470646, -0.8255, 0),
        (-2.3470646, 0.8255, 0),
        (-0.8255, 2.935025862, 0),
        (0.8255, 2.935025862, 0),
        (-0.8255, 2.3470646, 0),
        (0.8255, 2.3470646, 0),
    ]]
    fillet(fillet10_edges, radius=FILLET10_R)


solid = part.part
